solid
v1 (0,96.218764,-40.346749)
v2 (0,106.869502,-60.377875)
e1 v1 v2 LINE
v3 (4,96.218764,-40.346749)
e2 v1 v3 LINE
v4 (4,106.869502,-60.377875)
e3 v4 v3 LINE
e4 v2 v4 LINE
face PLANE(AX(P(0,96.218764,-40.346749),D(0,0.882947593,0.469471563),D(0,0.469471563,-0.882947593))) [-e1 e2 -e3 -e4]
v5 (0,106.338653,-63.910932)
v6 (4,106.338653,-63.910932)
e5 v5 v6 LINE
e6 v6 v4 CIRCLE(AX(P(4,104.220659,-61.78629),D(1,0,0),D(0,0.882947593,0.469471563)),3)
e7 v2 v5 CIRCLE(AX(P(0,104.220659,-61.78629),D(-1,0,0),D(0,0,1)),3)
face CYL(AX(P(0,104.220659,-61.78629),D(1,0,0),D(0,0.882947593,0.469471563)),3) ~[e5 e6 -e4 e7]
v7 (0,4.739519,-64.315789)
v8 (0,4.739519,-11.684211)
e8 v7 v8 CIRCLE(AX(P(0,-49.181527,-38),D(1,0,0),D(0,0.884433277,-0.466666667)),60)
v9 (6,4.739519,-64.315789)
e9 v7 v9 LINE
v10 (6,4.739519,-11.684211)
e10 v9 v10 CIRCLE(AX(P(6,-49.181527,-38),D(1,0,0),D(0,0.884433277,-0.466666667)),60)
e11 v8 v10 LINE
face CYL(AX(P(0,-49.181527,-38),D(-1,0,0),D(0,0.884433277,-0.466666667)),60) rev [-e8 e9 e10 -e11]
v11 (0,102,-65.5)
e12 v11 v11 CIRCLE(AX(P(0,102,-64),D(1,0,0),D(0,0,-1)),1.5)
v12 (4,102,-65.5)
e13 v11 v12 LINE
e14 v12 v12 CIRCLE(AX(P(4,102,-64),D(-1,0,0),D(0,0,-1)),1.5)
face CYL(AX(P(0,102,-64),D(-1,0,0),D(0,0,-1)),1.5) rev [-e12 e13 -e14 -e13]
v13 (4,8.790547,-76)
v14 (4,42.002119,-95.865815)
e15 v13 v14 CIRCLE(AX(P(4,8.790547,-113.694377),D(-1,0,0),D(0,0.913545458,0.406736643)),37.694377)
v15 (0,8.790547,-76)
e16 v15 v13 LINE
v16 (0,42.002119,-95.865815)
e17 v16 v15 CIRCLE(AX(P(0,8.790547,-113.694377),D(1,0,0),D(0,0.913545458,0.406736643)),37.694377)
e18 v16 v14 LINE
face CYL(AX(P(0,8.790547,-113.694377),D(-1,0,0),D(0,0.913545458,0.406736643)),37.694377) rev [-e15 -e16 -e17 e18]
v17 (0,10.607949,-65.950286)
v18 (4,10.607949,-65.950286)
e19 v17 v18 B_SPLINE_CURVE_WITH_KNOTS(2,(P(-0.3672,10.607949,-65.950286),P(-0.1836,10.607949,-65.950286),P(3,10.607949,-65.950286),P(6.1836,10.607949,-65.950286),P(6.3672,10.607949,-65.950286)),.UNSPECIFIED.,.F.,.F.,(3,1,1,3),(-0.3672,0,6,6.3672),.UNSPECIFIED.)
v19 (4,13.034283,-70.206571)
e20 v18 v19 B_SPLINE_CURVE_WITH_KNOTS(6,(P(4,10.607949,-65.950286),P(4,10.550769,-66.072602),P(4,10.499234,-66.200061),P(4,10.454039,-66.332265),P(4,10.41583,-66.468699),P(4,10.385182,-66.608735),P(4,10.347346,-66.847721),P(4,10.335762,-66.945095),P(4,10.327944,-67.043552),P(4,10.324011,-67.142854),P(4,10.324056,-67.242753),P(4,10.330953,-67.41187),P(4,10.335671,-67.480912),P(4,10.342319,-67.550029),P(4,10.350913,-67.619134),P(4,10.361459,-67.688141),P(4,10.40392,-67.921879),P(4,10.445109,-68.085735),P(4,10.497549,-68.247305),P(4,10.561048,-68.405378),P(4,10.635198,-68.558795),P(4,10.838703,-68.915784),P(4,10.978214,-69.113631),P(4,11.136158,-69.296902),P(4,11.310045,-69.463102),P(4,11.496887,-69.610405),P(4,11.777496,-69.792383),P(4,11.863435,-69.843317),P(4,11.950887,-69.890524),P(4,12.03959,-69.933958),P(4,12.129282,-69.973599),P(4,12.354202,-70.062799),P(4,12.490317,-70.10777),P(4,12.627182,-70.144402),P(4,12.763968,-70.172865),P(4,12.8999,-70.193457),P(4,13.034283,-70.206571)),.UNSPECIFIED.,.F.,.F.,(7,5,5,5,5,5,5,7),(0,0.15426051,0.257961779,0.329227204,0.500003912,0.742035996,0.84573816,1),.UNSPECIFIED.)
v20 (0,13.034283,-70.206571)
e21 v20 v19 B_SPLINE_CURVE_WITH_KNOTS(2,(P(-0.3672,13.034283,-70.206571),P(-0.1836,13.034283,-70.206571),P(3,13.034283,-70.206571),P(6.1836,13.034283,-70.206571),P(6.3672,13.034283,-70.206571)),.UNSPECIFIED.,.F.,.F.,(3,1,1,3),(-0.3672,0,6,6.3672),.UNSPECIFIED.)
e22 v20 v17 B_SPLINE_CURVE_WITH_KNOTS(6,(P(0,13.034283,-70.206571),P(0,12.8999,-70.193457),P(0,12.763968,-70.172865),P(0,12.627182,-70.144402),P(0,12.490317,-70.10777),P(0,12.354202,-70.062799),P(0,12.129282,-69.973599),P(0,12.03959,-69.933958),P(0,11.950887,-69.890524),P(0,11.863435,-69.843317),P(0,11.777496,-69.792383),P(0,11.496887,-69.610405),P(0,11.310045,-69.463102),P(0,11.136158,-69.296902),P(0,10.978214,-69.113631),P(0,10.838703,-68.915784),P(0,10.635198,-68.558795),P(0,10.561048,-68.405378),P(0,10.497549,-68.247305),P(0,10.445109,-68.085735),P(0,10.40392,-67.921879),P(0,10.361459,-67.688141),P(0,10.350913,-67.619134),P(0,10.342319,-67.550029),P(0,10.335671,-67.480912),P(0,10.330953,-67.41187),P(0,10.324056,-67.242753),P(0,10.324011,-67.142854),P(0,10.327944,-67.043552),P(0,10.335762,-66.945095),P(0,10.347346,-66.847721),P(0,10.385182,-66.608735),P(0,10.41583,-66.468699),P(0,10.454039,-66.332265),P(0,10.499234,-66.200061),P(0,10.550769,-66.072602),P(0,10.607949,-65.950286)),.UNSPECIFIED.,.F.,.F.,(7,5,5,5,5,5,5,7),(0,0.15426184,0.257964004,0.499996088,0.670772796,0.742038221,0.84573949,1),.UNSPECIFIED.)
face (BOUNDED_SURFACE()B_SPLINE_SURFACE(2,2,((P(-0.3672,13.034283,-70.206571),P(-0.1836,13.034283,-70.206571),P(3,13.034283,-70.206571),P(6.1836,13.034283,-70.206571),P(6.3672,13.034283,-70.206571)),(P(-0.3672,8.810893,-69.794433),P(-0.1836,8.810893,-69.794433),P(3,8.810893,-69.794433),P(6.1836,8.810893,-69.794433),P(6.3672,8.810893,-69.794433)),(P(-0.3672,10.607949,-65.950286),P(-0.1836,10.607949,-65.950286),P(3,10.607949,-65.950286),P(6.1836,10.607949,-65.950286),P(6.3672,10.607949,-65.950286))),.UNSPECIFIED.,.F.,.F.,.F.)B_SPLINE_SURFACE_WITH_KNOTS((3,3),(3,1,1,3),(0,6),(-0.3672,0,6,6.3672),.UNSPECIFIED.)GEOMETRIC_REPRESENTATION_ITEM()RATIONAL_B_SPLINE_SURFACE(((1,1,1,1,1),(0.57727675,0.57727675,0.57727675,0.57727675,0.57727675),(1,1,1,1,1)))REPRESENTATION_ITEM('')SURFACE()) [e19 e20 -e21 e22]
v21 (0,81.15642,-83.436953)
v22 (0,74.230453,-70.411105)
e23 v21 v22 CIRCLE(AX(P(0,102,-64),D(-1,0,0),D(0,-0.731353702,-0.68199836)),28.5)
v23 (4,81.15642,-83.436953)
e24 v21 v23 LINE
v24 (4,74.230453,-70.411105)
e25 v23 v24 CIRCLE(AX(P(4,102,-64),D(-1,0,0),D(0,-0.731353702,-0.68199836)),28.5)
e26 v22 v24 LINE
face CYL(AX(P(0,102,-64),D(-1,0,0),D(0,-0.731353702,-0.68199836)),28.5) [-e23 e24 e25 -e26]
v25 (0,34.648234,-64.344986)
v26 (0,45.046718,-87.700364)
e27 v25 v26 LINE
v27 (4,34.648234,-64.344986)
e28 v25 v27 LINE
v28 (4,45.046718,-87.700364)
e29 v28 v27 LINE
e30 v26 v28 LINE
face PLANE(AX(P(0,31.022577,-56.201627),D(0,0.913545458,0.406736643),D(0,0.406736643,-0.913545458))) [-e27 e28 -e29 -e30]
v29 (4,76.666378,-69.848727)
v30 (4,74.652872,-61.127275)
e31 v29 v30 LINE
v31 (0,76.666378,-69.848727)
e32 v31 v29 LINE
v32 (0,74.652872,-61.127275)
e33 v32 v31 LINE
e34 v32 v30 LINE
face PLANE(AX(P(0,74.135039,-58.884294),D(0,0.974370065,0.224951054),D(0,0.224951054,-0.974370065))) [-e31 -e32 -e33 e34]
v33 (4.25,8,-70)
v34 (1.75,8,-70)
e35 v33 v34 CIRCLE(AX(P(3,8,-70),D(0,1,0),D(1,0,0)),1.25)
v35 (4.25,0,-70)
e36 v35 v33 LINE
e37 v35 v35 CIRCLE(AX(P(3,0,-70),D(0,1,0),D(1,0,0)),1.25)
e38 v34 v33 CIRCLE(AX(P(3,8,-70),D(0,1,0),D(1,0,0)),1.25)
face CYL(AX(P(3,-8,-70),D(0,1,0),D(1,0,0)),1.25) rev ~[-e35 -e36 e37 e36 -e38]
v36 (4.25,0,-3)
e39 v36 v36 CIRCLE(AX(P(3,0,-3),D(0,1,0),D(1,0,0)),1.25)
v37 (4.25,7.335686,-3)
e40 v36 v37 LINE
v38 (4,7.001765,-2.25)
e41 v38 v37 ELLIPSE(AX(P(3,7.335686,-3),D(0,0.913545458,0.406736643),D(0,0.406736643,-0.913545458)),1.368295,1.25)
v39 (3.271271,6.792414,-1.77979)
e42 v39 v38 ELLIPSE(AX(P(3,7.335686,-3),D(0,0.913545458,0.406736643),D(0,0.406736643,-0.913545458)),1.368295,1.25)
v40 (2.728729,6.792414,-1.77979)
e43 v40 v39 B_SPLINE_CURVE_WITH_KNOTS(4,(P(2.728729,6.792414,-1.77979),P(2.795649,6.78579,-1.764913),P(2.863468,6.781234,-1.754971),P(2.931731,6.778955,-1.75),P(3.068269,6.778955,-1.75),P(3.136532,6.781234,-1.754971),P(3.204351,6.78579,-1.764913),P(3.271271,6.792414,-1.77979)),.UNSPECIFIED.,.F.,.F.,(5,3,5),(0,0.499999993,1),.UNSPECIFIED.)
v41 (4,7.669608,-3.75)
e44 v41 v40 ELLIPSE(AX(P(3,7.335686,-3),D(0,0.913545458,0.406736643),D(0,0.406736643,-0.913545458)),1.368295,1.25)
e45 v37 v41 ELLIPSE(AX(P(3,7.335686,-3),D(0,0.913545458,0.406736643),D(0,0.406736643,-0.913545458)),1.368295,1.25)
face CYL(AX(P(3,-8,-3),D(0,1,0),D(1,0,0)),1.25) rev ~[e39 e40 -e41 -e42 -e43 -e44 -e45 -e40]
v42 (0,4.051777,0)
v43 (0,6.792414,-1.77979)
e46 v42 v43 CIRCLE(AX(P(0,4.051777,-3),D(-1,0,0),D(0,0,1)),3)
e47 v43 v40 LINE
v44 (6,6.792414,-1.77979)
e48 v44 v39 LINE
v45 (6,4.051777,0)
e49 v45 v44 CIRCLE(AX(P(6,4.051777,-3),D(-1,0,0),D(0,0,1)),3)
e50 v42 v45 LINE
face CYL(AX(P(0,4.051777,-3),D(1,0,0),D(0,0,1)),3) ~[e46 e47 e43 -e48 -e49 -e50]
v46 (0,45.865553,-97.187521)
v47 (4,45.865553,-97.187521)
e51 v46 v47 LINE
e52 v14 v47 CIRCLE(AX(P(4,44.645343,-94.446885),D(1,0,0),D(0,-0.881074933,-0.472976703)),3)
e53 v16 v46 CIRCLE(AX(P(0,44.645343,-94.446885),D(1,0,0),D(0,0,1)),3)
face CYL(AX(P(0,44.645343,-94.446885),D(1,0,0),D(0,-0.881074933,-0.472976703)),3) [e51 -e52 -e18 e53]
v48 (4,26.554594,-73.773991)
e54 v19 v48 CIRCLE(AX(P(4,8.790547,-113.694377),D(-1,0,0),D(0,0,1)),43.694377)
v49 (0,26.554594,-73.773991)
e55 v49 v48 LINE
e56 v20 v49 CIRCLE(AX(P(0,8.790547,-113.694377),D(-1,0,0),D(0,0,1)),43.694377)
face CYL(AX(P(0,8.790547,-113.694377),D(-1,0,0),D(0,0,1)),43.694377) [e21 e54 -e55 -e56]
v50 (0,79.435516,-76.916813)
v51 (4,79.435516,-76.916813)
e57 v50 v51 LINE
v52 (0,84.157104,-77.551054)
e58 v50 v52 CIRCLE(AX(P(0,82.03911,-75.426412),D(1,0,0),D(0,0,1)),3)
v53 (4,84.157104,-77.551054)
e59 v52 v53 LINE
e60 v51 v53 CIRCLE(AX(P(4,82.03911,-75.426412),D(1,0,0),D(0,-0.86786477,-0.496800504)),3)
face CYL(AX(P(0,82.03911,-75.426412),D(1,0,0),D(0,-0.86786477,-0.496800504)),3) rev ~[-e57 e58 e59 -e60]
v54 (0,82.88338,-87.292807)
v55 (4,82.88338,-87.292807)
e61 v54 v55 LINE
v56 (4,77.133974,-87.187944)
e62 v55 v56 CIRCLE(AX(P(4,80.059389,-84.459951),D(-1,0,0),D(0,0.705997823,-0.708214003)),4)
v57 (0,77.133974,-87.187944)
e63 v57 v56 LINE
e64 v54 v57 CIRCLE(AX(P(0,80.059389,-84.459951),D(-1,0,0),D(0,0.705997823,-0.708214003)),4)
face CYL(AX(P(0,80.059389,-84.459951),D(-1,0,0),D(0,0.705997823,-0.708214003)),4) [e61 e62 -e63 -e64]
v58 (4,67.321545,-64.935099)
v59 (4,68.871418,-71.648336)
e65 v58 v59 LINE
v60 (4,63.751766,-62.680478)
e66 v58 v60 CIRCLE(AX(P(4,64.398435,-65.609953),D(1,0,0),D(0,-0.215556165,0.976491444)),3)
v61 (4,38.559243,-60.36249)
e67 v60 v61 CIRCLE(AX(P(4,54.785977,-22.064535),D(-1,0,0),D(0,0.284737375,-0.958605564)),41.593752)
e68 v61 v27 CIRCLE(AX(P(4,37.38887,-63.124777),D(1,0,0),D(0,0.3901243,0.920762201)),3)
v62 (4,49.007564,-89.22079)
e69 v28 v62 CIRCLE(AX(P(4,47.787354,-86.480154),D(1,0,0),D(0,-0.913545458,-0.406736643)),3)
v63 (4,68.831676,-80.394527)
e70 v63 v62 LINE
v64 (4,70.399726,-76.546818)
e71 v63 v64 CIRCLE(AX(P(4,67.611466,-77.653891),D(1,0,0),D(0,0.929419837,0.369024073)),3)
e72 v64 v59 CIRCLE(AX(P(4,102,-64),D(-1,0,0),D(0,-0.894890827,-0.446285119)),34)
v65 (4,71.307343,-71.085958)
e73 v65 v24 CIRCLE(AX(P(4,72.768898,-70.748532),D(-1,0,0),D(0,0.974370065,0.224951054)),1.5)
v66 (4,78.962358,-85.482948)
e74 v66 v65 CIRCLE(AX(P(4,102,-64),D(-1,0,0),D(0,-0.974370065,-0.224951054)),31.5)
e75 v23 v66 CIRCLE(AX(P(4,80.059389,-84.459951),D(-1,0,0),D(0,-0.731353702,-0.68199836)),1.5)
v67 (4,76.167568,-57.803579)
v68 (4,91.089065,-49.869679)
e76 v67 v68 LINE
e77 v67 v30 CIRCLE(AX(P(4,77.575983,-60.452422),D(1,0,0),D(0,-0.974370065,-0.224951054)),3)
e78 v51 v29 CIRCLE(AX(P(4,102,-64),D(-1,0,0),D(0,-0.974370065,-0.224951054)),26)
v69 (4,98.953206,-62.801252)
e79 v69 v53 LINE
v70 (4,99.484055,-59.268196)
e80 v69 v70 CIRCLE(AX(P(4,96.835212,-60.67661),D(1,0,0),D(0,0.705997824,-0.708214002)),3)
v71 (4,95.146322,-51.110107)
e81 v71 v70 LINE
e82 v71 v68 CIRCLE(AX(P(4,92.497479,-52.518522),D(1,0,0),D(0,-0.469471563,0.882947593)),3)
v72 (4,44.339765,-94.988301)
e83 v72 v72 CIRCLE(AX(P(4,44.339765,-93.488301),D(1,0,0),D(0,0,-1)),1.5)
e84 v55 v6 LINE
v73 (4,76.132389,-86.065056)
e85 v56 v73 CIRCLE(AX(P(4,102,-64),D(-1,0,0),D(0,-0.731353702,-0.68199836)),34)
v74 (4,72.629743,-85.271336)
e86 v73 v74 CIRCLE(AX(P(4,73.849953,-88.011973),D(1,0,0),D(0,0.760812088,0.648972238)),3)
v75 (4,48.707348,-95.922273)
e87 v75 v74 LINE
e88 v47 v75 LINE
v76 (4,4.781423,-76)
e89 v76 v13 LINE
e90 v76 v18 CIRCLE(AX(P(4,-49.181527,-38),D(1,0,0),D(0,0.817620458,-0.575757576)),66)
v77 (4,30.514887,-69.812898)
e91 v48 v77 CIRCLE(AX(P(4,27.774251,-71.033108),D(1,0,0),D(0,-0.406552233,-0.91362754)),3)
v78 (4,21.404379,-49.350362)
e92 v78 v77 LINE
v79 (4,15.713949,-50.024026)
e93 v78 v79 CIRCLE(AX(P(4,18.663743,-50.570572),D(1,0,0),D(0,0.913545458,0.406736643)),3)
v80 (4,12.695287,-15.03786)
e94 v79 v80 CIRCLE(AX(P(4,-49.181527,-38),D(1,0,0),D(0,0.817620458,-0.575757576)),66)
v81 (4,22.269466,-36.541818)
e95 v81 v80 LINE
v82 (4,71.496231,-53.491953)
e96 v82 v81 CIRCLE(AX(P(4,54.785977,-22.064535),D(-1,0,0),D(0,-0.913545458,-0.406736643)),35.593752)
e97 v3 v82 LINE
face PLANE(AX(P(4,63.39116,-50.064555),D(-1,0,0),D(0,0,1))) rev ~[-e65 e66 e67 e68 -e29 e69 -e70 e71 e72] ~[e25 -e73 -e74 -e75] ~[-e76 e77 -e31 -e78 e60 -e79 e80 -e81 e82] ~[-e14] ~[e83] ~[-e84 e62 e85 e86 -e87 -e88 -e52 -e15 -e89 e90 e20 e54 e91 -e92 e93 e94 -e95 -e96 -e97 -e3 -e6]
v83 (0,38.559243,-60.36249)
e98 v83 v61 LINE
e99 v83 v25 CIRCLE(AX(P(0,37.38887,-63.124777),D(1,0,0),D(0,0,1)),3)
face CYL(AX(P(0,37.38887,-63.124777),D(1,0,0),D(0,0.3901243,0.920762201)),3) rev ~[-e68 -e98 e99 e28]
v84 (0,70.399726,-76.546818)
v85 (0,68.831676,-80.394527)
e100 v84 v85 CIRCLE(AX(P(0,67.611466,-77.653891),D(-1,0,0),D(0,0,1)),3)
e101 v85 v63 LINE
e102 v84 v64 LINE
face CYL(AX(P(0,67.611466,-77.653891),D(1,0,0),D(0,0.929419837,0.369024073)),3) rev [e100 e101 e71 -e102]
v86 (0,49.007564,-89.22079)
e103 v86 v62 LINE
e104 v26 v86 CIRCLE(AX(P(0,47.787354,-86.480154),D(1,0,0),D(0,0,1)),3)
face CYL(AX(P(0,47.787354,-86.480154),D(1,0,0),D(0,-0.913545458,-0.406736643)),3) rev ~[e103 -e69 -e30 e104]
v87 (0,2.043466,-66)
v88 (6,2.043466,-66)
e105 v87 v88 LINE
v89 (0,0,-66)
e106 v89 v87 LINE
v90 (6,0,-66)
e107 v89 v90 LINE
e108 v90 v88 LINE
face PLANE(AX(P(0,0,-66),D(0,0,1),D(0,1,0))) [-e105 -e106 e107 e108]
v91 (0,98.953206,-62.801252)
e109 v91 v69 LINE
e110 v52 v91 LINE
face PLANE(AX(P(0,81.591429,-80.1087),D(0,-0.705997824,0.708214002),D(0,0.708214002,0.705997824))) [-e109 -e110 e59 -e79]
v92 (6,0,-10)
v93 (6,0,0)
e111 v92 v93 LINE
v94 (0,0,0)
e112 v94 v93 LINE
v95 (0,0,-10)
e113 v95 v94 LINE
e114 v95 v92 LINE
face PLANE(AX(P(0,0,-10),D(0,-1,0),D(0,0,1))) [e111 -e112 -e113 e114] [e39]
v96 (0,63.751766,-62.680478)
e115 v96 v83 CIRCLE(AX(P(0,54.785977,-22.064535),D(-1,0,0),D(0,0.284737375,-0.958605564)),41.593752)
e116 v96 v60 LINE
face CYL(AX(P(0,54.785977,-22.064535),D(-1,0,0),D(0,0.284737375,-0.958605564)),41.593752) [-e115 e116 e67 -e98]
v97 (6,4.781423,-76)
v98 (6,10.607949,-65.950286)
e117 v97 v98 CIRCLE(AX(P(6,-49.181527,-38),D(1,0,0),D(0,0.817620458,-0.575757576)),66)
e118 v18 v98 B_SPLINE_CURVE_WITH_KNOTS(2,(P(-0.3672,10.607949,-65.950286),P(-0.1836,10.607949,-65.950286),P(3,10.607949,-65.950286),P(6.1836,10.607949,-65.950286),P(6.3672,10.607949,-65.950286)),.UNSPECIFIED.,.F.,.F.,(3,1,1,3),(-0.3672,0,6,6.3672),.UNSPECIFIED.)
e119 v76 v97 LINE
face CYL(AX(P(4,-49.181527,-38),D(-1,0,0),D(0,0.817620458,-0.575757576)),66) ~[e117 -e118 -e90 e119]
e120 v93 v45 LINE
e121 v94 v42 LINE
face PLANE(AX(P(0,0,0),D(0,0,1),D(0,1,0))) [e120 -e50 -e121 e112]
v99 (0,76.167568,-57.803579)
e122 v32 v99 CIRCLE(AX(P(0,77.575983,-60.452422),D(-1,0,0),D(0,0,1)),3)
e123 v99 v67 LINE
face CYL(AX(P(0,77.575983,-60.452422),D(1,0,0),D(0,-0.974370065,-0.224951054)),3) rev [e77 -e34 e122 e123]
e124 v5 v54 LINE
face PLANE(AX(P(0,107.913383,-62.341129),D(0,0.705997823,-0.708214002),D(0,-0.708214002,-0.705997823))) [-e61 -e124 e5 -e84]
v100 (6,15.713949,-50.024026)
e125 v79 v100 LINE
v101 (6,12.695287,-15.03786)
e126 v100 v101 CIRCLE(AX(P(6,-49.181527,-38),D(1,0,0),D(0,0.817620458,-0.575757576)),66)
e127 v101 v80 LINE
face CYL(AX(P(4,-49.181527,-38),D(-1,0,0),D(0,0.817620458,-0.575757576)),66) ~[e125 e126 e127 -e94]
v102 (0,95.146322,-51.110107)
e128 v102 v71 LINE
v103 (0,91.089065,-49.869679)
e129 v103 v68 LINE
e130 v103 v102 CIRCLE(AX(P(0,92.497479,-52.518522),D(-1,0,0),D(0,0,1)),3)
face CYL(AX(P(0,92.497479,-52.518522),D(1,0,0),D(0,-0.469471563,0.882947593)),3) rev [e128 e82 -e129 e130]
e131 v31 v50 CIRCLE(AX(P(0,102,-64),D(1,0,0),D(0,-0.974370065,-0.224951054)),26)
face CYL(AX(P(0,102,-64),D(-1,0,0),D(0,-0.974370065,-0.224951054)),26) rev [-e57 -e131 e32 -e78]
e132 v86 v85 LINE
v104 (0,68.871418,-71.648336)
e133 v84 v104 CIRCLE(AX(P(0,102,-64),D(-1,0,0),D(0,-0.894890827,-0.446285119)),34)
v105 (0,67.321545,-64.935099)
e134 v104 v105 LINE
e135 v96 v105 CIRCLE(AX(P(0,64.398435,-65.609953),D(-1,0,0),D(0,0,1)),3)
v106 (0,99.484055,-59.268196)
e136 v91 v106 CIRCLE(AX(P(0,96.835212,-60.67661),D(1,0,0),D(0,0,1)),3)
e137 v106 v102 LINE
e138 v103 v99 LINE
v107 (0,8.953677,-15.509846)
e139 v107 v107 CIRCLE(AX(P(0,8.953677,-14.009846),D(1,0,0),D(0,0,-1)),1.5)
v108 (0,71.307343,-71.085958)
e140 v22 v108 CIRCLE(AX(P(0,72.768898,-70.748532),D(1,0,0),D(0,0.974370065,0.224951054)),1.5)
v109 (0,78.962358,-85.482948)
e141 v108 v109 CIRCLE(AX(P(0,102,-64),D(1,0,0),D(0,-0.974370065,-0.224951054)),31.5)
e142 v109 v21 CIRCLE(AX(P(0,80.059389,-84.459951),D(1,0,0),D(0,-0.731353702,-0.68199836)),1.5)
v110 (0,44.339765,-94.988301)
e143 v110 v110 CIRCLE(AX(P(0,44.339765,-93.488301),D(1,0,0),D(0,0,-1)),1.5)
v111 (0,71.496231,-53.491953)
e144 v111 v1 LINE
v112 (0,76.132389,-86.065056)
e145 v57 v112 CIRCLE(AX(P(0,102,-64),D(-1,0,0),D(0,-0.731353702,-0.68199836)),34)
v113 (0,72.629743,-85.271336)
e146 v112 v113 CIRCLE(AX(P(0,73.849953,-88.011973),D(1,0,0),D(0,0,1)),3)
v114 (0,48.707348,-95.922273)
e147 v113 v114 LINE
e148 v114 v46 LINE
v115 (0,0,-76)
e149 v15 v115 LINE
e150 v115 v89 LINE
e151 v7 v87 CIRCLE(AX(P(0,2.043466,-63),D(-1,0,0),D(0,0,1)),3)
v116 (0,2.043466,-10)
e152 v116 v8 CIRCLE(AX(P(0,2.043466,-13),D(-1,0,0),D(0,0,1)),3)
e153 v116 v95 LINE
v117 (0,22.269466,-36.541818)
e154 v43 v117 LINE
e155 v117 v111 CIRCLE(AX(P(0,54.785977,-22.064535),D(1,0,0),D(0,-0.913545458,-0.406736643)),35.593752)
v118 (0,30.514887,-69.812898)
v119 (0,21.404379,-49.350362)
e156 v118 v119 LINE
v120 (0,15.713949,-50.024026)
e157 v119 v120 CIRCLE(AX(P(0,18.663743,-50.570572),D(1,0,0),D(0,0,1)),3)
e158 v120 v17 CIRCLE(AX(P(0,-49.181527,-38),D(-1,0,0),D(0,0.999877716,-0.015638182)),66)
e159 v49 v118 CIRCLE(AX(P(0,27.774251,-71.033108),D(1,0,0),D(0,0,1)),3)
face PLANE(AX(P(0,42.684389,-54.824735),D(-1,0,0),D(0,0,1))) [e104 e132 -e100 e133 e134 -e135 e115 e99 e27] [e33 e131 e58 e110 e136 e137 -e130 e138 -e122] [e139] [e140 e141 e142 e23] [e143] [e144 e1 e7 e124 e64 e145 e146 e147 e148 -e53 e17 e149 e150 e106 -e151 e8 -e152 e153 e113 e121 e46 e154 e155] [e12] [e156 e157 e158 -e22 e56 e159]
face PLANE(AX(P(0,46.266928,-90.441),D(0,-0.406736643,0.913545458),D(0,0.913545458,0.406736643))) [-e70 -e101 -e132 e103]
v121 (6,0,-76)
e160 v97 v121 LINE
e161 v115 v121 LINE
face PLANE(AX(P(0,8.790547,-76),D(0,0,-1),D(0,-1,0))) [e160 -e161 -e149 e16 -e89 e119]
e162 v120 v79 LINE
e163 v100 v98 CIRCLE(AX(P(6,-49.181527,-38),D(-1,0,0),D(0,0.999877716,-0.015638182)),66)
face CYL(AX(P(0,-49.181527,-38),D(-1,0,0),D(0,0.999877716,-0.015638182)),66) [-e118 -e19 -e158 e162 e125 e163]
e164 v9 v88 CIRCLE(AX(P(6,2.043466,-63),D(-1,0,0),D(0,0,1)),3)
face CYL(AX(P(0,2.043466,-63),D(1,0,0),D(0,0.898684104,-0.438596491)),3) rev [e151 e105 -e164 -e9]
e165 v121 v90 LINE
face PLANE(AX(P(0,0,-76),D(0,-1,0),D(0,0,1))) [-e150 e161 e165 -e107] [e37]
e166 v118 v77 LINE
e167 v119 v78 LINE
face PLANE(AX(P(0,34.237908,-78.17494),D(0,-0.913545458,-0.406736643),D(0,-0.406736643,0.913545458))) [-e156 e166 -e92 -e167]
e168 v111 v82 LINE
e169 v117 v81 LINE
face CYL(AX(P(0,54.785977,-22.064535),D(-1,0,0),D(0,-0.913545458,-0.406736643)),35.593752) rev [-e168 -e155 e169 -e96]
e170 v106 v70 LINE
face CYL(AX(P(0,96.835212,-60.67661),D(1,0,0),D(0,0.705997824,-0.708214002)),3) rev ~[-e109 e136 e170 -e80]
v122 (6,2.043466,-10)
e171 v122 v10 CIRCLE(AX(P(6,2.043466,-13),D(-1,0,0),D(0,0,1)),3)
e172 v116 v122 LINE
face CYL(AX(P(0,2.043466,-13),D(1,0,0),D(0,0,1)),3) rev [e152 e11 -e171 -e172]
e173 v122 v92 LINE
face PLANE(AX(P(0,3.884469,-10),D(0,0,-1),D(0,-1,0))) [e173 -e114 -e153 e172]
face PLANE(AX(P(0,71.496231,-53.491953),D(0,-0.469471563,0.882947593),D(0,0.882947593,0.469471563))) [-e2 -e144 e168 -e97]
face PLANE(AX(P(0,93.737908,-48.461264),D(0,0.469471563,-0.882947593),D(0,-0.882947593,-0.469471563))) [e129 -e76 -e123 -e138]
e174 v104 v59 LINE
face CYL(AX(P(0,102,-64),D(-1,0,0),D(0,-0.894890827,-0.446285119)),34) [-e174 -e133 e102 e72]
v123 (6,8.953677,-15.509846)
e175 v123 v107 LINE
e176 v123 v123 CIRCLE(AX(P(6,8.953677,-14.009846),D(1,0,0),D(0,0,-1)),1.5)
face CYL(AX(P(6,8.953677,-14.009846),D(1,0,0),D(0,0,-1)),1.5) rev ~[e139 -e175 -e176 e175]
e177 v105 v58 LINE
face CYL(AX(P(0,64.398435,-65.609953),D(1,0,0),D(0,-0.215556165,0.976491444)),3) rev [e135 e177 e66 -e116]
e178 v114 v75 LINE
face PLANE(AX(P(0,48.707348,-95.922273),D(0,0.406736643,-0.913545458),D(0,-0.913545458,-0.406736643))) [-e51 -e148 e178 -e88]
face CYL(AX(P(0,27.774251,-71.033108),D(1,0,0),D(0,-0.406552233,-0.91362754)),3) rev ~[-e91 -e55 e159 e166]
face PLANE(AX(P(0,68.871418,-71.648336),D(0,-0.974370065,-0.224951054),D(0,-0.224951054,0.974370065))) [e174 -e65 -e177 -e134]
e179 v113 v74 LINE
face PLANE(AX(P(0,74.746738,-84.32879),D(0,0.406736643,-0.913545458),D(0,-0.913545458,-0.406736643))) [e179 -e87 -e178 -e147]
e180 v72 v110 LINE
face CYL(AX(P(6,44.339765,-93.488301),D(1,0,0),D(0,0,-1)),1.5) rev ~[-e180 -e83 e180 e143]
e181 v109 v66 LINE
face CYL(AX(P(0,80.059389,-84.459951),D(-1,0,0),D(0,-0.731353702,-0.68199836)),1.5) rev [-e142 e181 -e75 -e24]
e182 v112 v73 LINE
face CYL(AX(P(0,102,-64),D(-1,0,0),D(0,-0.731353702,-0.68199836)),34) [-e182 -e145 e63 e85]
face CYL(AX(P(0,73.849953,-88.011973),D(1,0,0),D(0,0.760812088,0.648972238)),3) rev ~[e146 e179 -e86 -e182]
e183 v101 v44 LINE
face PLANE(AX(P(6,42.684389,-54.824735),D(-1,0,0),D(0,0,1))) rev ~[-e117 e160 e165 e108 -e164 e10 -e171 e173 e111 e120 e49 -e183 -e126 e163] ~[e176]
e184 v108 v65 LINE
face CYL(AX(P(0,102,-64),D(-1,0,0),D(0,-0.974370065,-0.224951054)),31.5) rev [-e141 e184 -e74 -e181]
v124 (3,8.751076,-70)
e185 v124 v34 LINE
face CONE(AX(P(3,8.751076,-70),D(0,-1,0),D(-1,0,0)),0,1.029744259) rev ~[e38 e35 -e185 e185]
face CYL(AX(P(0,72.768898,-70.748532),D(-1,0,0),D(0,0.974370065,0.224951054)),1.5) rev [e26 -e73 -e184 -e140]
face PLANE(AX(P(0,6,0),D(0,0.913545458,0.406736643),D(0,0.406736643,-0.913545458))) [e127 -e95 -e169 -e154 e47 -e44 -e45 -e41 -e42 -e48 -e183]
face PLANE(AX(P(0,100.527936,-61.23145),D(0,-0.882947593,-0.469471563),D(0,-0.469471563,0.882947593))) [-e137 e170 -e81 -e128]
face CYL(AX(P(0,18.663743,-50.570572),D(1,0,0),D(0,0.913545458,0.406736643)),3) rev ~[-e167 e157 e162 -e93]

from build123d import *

# Parameters (mm, degrees)
SKETCH1_R                   = 1.5
BOSS_EXTRUDE1_DEPTH         = 6
FILLET1_R                   = 3
TAP_DRILL_FOR_M3_TAP1_D     = 2.5
TAP_DRILL_FOR_M3_TAP1_DEPTH = 8
TAP_DRILL_FOR_M3_TAP1_TIP   = 0.751075774
CUT_EXTRUDE1_START          = -2
CUT_EXTRUDE1_DEPTH          = 2
CUT_EXTRUDE2_REACH          = 147.011
SKETCH7_R                   = 1.5


with BuildPart() as part:
    # Sketch1 → Boss-Extrude1 (new body)
    with BuildSketch(Plane(origin=(0, 0, 0), x_dir=(0, 0, -1), z_dir=(1, 0, 0))):
        with BuildLine():
            Line((0, 0), (0, 6))
            Line((0, 6), (36.541818306, 22.269465723))
            ThreePointArc((36.541818306, 22.269465723), (55.71908903, 43.197784292), (53.491952961, 71.496231166))
            Line((53.491952961, 71.496231166), (40.346749203, 96.218763766))
            Line((40.346749203, 96.218763766), (62.341129166, 107.913383036))
            Line((62.341129166, 107.913383036), (87.292806812, 82.883380245))
            ThreePointArc((87.292806812, 82.883380245), (88.459285656, 79.986445673), (87.187944242, 77.133974145))
            ThreePointArc((87.187944242, 77.133974145), (85.791082043, 75.901173525), (84.328789644, 74.746737597))
            Line((84.328789644, 74.746737597), (95.922273052, 48.707347523))
            Line((95.922273052, 48.707347523), (98.362692911, 43.226074777))
            ThreePointArc((98.362692911, 43.226074777), (82.081212508, 29.320376834), (76, 8.790547467))
            Line((76, 8.790547467), (76, 0))
            Line((76, 0), (66, 0))
            Line((66, 0), (66, 3.884469182))
            ThreePointArc((66, 3.884469182), (38, 10.818472536), (10, 3.884469182))
            Line((10, 3.884469182), (10, 0))
            Line((10, 0), (0, 0))
        make_face()
        with Locations((64, 102)):
            Circle(SKETCH1_R, mode=Mode.SUBTRACT)
        with BuildLine():
            Line((78.174939554, 34.237907891), (39.032120003, 16.810401803))
            ThreePointArc((39.032120003, 16.810401803), (55.025629399, 14.584670036), (70, 8.541951295))
            Line((70, 8.541951295), (70, 8.790547467))
            ThreePointArc((70, 8.790547467), (72.093906618, 22.154657887), (78.174939554, 34.237907891))
        make_face(mode=Mode.SUBTRACT)
        with BuildLine():
            Line((56.201627065, 31.02257653), (90.441000307, 46.266927665))
            Line((90.441000307, 46.266927665), (79.173694043, 71.573711875))
            ThreePointArc((79.173694043, 71.573711875), (75.490729324, 70.000575949), (71.648335848, 68.871417797))
            Line((71.648335848, 68.871417797), (61.936537439, 66.629272466))
            ThreePointArc((61.936537439, 66.629272466), (63.129066114, 48.17201256), (56.201627065, 31.02257653))
        make_face(mode=Mode.SUBTRACT)
        with BuildLine():
            Line((80.108700039, 81.591428686), (61.231449963, 100.527935833))
            Line((61.231449963, 100.527935833), (48.461264136, 93.737907585))
            Line((48.461264136, 93.737907585), (58.884294031, 74.135039414))
            Line((58.884294031, 74.135039414), (69.848727413, 76.666378316))
            ThreePointArc((69.848727413, 76.666378316), (75.251497028, 78.560635362), (80.108700039, 81.591428686))
        make_face(mode=Mode.SUBTRACT)
        with BuildLine():
            ThreePointArc((71.085958212, 71.307342959), (78.788354228, 74.187150825), (85.482948342, 78.962358399))
            ThreePointArc((85.482948342, 78.962358399), (85.556981354, 81.082386492), (83.436953262, 81.156419504))
            ThreePointArc((83.436953262, 81.156419504), (77.379939539, 76.835993604), (70.411105049, 74.230453154))
            ThreePointArc((70.411105049, 74.230453154), (69.286976533, 72.431471475), (71.085958212, 71.307342959))
        make_face(mode=Mode.SUBTRACT)
    extrude(amount=BOSS_EXTRUDE1_DEPTH)

    # Fillet1
    fillet1_edges = [part.edges().sort_by_distance(p)[0] for p in [
        (3, 3.884469182, -66),
        (3, 3.884469182, -10),
        (3, 43.226074777, -98.362692911),
        (3, 16.810401803, -39.032120003),
        (3, 34.237907891, -78.174939554),
        (3, 8.541951295, -70),
        (3, 46.266927665, -90.441000307),
        (3, 31.02257653, -56.201627065),
        (3, 81.591428686, -80.108700039),
        (3, 107.913383036, -62.341129166),
        (3, 100.527935833, -61.231449963),
        (3, 93.737907585, -48.461264136),
        (3, 74.135039414, -58.884294031),
        (3, 6, 0),
        (3, 66.629272466, -61.936537439),
        (3, 74.746737597, -84.328789644),
        (3, 71.573711875, -79.173694043),
    ]]
    fillet(fillet1_edges, radius=FILLET1_R)

    # Tap Drill for M3 Tap1
    with Locations(Plane(origin=(0, 0, 0), x_dir=(-1, 0, 0), z_dir=(0, -1, 0))):
        with Locations((-3, 3), (-3, 70)):
            Hole(TAP_DRILL_FOR_M3_TAP1_D / 2, depth=TAP_DRILL_FOR_M3_TAP1_DEPTH)
            with Locations((0, 0, -(TAP_DRILL_FOR_M3_TAP1_DEPTH + TAP_DRILL_FOR_M3_TAP1_TIP / 2))):  # 118° drill point
                Cone(0, TAP_DRILL_FOR_M3_TAP1_D / 2, TAP_DRILL_FOR_M3_TAP1_TIP, mode=Mode.SUBTRACT)

    # Sketch6 → Cut-Extrude1 (cut)
    with BuildSketch(Plane(origin=(6, 0, 0), x_dir=(0, 0, -1), z_dir=(1, 0, 0)).offset(CUT_EXTRUDE1_START)):
        with BuildLine():
            Line((0, 6), (0, 120))
            Line((0, 120), (100, 120))
            Line((100, 120), (100, 4.781422789))
            Line((100, 4.781422789), (76, 4.781422789))
            ThreePointArc((76, 4.781422789), (42.323682099, 16.676697331), (7.381236086, 9.286338039))
            Line((7.381236086, 9.286338039), (0, 6))
        make_face()
    extrude(amount=CUT_EXTRUDE1_DEPTH, mode=Mode.SUBTRACT)

    # Sketch7 → Cut-Extrude2 (cut, up to next)
    with BuildSketch(Plane(origin=(6, 0, 0), x_dir=(0, 0, -1), z_dir=(1, 0, 0)), mode=Mode.PRIVATE) as cut_extrude2_sk1:
        with Locations((14.009846336, 8.95367663)):
            Circle(SKETCH7_R)
    cut_extrude2_tool1 = extrude(cut_extrude2_sk1.sketch, amount=-CUT_EXTRUDE2_REACH, mode=Mode.PRIVATE) & part.part
    # Sketch7 → Cut-Extrude2 (cut, up to next)
    with BuildSketch(Plane(origin=(6, 0, 0), x_dir=(0, 0, -1), z_dir=(1, 0, 0)), mode=Mode.PRIVATE) as cut_extrude2_sk2:
        with Locations((93.488301151, 44.339764578)):
            Circle(SKETCH7_R)
    cut_extrude2_tool2 = extrude(cut_extrude2_sk2.sketch, amount=-CUT_EXTRUDE2_REACH, mode=Mode.PRIVATE) & part.part
    add(cut_extrude2_tool1.solids().sort_by_distance((6, 8.953677, -14.009846))[0], mode=Mode.SUBTRACT)
    add(cut_extrude2_tool2.solids().sort_by_distance((6, 44.339765, -93.488301))[0], mode=Mode.SUBTRACT)


solid = part.part
